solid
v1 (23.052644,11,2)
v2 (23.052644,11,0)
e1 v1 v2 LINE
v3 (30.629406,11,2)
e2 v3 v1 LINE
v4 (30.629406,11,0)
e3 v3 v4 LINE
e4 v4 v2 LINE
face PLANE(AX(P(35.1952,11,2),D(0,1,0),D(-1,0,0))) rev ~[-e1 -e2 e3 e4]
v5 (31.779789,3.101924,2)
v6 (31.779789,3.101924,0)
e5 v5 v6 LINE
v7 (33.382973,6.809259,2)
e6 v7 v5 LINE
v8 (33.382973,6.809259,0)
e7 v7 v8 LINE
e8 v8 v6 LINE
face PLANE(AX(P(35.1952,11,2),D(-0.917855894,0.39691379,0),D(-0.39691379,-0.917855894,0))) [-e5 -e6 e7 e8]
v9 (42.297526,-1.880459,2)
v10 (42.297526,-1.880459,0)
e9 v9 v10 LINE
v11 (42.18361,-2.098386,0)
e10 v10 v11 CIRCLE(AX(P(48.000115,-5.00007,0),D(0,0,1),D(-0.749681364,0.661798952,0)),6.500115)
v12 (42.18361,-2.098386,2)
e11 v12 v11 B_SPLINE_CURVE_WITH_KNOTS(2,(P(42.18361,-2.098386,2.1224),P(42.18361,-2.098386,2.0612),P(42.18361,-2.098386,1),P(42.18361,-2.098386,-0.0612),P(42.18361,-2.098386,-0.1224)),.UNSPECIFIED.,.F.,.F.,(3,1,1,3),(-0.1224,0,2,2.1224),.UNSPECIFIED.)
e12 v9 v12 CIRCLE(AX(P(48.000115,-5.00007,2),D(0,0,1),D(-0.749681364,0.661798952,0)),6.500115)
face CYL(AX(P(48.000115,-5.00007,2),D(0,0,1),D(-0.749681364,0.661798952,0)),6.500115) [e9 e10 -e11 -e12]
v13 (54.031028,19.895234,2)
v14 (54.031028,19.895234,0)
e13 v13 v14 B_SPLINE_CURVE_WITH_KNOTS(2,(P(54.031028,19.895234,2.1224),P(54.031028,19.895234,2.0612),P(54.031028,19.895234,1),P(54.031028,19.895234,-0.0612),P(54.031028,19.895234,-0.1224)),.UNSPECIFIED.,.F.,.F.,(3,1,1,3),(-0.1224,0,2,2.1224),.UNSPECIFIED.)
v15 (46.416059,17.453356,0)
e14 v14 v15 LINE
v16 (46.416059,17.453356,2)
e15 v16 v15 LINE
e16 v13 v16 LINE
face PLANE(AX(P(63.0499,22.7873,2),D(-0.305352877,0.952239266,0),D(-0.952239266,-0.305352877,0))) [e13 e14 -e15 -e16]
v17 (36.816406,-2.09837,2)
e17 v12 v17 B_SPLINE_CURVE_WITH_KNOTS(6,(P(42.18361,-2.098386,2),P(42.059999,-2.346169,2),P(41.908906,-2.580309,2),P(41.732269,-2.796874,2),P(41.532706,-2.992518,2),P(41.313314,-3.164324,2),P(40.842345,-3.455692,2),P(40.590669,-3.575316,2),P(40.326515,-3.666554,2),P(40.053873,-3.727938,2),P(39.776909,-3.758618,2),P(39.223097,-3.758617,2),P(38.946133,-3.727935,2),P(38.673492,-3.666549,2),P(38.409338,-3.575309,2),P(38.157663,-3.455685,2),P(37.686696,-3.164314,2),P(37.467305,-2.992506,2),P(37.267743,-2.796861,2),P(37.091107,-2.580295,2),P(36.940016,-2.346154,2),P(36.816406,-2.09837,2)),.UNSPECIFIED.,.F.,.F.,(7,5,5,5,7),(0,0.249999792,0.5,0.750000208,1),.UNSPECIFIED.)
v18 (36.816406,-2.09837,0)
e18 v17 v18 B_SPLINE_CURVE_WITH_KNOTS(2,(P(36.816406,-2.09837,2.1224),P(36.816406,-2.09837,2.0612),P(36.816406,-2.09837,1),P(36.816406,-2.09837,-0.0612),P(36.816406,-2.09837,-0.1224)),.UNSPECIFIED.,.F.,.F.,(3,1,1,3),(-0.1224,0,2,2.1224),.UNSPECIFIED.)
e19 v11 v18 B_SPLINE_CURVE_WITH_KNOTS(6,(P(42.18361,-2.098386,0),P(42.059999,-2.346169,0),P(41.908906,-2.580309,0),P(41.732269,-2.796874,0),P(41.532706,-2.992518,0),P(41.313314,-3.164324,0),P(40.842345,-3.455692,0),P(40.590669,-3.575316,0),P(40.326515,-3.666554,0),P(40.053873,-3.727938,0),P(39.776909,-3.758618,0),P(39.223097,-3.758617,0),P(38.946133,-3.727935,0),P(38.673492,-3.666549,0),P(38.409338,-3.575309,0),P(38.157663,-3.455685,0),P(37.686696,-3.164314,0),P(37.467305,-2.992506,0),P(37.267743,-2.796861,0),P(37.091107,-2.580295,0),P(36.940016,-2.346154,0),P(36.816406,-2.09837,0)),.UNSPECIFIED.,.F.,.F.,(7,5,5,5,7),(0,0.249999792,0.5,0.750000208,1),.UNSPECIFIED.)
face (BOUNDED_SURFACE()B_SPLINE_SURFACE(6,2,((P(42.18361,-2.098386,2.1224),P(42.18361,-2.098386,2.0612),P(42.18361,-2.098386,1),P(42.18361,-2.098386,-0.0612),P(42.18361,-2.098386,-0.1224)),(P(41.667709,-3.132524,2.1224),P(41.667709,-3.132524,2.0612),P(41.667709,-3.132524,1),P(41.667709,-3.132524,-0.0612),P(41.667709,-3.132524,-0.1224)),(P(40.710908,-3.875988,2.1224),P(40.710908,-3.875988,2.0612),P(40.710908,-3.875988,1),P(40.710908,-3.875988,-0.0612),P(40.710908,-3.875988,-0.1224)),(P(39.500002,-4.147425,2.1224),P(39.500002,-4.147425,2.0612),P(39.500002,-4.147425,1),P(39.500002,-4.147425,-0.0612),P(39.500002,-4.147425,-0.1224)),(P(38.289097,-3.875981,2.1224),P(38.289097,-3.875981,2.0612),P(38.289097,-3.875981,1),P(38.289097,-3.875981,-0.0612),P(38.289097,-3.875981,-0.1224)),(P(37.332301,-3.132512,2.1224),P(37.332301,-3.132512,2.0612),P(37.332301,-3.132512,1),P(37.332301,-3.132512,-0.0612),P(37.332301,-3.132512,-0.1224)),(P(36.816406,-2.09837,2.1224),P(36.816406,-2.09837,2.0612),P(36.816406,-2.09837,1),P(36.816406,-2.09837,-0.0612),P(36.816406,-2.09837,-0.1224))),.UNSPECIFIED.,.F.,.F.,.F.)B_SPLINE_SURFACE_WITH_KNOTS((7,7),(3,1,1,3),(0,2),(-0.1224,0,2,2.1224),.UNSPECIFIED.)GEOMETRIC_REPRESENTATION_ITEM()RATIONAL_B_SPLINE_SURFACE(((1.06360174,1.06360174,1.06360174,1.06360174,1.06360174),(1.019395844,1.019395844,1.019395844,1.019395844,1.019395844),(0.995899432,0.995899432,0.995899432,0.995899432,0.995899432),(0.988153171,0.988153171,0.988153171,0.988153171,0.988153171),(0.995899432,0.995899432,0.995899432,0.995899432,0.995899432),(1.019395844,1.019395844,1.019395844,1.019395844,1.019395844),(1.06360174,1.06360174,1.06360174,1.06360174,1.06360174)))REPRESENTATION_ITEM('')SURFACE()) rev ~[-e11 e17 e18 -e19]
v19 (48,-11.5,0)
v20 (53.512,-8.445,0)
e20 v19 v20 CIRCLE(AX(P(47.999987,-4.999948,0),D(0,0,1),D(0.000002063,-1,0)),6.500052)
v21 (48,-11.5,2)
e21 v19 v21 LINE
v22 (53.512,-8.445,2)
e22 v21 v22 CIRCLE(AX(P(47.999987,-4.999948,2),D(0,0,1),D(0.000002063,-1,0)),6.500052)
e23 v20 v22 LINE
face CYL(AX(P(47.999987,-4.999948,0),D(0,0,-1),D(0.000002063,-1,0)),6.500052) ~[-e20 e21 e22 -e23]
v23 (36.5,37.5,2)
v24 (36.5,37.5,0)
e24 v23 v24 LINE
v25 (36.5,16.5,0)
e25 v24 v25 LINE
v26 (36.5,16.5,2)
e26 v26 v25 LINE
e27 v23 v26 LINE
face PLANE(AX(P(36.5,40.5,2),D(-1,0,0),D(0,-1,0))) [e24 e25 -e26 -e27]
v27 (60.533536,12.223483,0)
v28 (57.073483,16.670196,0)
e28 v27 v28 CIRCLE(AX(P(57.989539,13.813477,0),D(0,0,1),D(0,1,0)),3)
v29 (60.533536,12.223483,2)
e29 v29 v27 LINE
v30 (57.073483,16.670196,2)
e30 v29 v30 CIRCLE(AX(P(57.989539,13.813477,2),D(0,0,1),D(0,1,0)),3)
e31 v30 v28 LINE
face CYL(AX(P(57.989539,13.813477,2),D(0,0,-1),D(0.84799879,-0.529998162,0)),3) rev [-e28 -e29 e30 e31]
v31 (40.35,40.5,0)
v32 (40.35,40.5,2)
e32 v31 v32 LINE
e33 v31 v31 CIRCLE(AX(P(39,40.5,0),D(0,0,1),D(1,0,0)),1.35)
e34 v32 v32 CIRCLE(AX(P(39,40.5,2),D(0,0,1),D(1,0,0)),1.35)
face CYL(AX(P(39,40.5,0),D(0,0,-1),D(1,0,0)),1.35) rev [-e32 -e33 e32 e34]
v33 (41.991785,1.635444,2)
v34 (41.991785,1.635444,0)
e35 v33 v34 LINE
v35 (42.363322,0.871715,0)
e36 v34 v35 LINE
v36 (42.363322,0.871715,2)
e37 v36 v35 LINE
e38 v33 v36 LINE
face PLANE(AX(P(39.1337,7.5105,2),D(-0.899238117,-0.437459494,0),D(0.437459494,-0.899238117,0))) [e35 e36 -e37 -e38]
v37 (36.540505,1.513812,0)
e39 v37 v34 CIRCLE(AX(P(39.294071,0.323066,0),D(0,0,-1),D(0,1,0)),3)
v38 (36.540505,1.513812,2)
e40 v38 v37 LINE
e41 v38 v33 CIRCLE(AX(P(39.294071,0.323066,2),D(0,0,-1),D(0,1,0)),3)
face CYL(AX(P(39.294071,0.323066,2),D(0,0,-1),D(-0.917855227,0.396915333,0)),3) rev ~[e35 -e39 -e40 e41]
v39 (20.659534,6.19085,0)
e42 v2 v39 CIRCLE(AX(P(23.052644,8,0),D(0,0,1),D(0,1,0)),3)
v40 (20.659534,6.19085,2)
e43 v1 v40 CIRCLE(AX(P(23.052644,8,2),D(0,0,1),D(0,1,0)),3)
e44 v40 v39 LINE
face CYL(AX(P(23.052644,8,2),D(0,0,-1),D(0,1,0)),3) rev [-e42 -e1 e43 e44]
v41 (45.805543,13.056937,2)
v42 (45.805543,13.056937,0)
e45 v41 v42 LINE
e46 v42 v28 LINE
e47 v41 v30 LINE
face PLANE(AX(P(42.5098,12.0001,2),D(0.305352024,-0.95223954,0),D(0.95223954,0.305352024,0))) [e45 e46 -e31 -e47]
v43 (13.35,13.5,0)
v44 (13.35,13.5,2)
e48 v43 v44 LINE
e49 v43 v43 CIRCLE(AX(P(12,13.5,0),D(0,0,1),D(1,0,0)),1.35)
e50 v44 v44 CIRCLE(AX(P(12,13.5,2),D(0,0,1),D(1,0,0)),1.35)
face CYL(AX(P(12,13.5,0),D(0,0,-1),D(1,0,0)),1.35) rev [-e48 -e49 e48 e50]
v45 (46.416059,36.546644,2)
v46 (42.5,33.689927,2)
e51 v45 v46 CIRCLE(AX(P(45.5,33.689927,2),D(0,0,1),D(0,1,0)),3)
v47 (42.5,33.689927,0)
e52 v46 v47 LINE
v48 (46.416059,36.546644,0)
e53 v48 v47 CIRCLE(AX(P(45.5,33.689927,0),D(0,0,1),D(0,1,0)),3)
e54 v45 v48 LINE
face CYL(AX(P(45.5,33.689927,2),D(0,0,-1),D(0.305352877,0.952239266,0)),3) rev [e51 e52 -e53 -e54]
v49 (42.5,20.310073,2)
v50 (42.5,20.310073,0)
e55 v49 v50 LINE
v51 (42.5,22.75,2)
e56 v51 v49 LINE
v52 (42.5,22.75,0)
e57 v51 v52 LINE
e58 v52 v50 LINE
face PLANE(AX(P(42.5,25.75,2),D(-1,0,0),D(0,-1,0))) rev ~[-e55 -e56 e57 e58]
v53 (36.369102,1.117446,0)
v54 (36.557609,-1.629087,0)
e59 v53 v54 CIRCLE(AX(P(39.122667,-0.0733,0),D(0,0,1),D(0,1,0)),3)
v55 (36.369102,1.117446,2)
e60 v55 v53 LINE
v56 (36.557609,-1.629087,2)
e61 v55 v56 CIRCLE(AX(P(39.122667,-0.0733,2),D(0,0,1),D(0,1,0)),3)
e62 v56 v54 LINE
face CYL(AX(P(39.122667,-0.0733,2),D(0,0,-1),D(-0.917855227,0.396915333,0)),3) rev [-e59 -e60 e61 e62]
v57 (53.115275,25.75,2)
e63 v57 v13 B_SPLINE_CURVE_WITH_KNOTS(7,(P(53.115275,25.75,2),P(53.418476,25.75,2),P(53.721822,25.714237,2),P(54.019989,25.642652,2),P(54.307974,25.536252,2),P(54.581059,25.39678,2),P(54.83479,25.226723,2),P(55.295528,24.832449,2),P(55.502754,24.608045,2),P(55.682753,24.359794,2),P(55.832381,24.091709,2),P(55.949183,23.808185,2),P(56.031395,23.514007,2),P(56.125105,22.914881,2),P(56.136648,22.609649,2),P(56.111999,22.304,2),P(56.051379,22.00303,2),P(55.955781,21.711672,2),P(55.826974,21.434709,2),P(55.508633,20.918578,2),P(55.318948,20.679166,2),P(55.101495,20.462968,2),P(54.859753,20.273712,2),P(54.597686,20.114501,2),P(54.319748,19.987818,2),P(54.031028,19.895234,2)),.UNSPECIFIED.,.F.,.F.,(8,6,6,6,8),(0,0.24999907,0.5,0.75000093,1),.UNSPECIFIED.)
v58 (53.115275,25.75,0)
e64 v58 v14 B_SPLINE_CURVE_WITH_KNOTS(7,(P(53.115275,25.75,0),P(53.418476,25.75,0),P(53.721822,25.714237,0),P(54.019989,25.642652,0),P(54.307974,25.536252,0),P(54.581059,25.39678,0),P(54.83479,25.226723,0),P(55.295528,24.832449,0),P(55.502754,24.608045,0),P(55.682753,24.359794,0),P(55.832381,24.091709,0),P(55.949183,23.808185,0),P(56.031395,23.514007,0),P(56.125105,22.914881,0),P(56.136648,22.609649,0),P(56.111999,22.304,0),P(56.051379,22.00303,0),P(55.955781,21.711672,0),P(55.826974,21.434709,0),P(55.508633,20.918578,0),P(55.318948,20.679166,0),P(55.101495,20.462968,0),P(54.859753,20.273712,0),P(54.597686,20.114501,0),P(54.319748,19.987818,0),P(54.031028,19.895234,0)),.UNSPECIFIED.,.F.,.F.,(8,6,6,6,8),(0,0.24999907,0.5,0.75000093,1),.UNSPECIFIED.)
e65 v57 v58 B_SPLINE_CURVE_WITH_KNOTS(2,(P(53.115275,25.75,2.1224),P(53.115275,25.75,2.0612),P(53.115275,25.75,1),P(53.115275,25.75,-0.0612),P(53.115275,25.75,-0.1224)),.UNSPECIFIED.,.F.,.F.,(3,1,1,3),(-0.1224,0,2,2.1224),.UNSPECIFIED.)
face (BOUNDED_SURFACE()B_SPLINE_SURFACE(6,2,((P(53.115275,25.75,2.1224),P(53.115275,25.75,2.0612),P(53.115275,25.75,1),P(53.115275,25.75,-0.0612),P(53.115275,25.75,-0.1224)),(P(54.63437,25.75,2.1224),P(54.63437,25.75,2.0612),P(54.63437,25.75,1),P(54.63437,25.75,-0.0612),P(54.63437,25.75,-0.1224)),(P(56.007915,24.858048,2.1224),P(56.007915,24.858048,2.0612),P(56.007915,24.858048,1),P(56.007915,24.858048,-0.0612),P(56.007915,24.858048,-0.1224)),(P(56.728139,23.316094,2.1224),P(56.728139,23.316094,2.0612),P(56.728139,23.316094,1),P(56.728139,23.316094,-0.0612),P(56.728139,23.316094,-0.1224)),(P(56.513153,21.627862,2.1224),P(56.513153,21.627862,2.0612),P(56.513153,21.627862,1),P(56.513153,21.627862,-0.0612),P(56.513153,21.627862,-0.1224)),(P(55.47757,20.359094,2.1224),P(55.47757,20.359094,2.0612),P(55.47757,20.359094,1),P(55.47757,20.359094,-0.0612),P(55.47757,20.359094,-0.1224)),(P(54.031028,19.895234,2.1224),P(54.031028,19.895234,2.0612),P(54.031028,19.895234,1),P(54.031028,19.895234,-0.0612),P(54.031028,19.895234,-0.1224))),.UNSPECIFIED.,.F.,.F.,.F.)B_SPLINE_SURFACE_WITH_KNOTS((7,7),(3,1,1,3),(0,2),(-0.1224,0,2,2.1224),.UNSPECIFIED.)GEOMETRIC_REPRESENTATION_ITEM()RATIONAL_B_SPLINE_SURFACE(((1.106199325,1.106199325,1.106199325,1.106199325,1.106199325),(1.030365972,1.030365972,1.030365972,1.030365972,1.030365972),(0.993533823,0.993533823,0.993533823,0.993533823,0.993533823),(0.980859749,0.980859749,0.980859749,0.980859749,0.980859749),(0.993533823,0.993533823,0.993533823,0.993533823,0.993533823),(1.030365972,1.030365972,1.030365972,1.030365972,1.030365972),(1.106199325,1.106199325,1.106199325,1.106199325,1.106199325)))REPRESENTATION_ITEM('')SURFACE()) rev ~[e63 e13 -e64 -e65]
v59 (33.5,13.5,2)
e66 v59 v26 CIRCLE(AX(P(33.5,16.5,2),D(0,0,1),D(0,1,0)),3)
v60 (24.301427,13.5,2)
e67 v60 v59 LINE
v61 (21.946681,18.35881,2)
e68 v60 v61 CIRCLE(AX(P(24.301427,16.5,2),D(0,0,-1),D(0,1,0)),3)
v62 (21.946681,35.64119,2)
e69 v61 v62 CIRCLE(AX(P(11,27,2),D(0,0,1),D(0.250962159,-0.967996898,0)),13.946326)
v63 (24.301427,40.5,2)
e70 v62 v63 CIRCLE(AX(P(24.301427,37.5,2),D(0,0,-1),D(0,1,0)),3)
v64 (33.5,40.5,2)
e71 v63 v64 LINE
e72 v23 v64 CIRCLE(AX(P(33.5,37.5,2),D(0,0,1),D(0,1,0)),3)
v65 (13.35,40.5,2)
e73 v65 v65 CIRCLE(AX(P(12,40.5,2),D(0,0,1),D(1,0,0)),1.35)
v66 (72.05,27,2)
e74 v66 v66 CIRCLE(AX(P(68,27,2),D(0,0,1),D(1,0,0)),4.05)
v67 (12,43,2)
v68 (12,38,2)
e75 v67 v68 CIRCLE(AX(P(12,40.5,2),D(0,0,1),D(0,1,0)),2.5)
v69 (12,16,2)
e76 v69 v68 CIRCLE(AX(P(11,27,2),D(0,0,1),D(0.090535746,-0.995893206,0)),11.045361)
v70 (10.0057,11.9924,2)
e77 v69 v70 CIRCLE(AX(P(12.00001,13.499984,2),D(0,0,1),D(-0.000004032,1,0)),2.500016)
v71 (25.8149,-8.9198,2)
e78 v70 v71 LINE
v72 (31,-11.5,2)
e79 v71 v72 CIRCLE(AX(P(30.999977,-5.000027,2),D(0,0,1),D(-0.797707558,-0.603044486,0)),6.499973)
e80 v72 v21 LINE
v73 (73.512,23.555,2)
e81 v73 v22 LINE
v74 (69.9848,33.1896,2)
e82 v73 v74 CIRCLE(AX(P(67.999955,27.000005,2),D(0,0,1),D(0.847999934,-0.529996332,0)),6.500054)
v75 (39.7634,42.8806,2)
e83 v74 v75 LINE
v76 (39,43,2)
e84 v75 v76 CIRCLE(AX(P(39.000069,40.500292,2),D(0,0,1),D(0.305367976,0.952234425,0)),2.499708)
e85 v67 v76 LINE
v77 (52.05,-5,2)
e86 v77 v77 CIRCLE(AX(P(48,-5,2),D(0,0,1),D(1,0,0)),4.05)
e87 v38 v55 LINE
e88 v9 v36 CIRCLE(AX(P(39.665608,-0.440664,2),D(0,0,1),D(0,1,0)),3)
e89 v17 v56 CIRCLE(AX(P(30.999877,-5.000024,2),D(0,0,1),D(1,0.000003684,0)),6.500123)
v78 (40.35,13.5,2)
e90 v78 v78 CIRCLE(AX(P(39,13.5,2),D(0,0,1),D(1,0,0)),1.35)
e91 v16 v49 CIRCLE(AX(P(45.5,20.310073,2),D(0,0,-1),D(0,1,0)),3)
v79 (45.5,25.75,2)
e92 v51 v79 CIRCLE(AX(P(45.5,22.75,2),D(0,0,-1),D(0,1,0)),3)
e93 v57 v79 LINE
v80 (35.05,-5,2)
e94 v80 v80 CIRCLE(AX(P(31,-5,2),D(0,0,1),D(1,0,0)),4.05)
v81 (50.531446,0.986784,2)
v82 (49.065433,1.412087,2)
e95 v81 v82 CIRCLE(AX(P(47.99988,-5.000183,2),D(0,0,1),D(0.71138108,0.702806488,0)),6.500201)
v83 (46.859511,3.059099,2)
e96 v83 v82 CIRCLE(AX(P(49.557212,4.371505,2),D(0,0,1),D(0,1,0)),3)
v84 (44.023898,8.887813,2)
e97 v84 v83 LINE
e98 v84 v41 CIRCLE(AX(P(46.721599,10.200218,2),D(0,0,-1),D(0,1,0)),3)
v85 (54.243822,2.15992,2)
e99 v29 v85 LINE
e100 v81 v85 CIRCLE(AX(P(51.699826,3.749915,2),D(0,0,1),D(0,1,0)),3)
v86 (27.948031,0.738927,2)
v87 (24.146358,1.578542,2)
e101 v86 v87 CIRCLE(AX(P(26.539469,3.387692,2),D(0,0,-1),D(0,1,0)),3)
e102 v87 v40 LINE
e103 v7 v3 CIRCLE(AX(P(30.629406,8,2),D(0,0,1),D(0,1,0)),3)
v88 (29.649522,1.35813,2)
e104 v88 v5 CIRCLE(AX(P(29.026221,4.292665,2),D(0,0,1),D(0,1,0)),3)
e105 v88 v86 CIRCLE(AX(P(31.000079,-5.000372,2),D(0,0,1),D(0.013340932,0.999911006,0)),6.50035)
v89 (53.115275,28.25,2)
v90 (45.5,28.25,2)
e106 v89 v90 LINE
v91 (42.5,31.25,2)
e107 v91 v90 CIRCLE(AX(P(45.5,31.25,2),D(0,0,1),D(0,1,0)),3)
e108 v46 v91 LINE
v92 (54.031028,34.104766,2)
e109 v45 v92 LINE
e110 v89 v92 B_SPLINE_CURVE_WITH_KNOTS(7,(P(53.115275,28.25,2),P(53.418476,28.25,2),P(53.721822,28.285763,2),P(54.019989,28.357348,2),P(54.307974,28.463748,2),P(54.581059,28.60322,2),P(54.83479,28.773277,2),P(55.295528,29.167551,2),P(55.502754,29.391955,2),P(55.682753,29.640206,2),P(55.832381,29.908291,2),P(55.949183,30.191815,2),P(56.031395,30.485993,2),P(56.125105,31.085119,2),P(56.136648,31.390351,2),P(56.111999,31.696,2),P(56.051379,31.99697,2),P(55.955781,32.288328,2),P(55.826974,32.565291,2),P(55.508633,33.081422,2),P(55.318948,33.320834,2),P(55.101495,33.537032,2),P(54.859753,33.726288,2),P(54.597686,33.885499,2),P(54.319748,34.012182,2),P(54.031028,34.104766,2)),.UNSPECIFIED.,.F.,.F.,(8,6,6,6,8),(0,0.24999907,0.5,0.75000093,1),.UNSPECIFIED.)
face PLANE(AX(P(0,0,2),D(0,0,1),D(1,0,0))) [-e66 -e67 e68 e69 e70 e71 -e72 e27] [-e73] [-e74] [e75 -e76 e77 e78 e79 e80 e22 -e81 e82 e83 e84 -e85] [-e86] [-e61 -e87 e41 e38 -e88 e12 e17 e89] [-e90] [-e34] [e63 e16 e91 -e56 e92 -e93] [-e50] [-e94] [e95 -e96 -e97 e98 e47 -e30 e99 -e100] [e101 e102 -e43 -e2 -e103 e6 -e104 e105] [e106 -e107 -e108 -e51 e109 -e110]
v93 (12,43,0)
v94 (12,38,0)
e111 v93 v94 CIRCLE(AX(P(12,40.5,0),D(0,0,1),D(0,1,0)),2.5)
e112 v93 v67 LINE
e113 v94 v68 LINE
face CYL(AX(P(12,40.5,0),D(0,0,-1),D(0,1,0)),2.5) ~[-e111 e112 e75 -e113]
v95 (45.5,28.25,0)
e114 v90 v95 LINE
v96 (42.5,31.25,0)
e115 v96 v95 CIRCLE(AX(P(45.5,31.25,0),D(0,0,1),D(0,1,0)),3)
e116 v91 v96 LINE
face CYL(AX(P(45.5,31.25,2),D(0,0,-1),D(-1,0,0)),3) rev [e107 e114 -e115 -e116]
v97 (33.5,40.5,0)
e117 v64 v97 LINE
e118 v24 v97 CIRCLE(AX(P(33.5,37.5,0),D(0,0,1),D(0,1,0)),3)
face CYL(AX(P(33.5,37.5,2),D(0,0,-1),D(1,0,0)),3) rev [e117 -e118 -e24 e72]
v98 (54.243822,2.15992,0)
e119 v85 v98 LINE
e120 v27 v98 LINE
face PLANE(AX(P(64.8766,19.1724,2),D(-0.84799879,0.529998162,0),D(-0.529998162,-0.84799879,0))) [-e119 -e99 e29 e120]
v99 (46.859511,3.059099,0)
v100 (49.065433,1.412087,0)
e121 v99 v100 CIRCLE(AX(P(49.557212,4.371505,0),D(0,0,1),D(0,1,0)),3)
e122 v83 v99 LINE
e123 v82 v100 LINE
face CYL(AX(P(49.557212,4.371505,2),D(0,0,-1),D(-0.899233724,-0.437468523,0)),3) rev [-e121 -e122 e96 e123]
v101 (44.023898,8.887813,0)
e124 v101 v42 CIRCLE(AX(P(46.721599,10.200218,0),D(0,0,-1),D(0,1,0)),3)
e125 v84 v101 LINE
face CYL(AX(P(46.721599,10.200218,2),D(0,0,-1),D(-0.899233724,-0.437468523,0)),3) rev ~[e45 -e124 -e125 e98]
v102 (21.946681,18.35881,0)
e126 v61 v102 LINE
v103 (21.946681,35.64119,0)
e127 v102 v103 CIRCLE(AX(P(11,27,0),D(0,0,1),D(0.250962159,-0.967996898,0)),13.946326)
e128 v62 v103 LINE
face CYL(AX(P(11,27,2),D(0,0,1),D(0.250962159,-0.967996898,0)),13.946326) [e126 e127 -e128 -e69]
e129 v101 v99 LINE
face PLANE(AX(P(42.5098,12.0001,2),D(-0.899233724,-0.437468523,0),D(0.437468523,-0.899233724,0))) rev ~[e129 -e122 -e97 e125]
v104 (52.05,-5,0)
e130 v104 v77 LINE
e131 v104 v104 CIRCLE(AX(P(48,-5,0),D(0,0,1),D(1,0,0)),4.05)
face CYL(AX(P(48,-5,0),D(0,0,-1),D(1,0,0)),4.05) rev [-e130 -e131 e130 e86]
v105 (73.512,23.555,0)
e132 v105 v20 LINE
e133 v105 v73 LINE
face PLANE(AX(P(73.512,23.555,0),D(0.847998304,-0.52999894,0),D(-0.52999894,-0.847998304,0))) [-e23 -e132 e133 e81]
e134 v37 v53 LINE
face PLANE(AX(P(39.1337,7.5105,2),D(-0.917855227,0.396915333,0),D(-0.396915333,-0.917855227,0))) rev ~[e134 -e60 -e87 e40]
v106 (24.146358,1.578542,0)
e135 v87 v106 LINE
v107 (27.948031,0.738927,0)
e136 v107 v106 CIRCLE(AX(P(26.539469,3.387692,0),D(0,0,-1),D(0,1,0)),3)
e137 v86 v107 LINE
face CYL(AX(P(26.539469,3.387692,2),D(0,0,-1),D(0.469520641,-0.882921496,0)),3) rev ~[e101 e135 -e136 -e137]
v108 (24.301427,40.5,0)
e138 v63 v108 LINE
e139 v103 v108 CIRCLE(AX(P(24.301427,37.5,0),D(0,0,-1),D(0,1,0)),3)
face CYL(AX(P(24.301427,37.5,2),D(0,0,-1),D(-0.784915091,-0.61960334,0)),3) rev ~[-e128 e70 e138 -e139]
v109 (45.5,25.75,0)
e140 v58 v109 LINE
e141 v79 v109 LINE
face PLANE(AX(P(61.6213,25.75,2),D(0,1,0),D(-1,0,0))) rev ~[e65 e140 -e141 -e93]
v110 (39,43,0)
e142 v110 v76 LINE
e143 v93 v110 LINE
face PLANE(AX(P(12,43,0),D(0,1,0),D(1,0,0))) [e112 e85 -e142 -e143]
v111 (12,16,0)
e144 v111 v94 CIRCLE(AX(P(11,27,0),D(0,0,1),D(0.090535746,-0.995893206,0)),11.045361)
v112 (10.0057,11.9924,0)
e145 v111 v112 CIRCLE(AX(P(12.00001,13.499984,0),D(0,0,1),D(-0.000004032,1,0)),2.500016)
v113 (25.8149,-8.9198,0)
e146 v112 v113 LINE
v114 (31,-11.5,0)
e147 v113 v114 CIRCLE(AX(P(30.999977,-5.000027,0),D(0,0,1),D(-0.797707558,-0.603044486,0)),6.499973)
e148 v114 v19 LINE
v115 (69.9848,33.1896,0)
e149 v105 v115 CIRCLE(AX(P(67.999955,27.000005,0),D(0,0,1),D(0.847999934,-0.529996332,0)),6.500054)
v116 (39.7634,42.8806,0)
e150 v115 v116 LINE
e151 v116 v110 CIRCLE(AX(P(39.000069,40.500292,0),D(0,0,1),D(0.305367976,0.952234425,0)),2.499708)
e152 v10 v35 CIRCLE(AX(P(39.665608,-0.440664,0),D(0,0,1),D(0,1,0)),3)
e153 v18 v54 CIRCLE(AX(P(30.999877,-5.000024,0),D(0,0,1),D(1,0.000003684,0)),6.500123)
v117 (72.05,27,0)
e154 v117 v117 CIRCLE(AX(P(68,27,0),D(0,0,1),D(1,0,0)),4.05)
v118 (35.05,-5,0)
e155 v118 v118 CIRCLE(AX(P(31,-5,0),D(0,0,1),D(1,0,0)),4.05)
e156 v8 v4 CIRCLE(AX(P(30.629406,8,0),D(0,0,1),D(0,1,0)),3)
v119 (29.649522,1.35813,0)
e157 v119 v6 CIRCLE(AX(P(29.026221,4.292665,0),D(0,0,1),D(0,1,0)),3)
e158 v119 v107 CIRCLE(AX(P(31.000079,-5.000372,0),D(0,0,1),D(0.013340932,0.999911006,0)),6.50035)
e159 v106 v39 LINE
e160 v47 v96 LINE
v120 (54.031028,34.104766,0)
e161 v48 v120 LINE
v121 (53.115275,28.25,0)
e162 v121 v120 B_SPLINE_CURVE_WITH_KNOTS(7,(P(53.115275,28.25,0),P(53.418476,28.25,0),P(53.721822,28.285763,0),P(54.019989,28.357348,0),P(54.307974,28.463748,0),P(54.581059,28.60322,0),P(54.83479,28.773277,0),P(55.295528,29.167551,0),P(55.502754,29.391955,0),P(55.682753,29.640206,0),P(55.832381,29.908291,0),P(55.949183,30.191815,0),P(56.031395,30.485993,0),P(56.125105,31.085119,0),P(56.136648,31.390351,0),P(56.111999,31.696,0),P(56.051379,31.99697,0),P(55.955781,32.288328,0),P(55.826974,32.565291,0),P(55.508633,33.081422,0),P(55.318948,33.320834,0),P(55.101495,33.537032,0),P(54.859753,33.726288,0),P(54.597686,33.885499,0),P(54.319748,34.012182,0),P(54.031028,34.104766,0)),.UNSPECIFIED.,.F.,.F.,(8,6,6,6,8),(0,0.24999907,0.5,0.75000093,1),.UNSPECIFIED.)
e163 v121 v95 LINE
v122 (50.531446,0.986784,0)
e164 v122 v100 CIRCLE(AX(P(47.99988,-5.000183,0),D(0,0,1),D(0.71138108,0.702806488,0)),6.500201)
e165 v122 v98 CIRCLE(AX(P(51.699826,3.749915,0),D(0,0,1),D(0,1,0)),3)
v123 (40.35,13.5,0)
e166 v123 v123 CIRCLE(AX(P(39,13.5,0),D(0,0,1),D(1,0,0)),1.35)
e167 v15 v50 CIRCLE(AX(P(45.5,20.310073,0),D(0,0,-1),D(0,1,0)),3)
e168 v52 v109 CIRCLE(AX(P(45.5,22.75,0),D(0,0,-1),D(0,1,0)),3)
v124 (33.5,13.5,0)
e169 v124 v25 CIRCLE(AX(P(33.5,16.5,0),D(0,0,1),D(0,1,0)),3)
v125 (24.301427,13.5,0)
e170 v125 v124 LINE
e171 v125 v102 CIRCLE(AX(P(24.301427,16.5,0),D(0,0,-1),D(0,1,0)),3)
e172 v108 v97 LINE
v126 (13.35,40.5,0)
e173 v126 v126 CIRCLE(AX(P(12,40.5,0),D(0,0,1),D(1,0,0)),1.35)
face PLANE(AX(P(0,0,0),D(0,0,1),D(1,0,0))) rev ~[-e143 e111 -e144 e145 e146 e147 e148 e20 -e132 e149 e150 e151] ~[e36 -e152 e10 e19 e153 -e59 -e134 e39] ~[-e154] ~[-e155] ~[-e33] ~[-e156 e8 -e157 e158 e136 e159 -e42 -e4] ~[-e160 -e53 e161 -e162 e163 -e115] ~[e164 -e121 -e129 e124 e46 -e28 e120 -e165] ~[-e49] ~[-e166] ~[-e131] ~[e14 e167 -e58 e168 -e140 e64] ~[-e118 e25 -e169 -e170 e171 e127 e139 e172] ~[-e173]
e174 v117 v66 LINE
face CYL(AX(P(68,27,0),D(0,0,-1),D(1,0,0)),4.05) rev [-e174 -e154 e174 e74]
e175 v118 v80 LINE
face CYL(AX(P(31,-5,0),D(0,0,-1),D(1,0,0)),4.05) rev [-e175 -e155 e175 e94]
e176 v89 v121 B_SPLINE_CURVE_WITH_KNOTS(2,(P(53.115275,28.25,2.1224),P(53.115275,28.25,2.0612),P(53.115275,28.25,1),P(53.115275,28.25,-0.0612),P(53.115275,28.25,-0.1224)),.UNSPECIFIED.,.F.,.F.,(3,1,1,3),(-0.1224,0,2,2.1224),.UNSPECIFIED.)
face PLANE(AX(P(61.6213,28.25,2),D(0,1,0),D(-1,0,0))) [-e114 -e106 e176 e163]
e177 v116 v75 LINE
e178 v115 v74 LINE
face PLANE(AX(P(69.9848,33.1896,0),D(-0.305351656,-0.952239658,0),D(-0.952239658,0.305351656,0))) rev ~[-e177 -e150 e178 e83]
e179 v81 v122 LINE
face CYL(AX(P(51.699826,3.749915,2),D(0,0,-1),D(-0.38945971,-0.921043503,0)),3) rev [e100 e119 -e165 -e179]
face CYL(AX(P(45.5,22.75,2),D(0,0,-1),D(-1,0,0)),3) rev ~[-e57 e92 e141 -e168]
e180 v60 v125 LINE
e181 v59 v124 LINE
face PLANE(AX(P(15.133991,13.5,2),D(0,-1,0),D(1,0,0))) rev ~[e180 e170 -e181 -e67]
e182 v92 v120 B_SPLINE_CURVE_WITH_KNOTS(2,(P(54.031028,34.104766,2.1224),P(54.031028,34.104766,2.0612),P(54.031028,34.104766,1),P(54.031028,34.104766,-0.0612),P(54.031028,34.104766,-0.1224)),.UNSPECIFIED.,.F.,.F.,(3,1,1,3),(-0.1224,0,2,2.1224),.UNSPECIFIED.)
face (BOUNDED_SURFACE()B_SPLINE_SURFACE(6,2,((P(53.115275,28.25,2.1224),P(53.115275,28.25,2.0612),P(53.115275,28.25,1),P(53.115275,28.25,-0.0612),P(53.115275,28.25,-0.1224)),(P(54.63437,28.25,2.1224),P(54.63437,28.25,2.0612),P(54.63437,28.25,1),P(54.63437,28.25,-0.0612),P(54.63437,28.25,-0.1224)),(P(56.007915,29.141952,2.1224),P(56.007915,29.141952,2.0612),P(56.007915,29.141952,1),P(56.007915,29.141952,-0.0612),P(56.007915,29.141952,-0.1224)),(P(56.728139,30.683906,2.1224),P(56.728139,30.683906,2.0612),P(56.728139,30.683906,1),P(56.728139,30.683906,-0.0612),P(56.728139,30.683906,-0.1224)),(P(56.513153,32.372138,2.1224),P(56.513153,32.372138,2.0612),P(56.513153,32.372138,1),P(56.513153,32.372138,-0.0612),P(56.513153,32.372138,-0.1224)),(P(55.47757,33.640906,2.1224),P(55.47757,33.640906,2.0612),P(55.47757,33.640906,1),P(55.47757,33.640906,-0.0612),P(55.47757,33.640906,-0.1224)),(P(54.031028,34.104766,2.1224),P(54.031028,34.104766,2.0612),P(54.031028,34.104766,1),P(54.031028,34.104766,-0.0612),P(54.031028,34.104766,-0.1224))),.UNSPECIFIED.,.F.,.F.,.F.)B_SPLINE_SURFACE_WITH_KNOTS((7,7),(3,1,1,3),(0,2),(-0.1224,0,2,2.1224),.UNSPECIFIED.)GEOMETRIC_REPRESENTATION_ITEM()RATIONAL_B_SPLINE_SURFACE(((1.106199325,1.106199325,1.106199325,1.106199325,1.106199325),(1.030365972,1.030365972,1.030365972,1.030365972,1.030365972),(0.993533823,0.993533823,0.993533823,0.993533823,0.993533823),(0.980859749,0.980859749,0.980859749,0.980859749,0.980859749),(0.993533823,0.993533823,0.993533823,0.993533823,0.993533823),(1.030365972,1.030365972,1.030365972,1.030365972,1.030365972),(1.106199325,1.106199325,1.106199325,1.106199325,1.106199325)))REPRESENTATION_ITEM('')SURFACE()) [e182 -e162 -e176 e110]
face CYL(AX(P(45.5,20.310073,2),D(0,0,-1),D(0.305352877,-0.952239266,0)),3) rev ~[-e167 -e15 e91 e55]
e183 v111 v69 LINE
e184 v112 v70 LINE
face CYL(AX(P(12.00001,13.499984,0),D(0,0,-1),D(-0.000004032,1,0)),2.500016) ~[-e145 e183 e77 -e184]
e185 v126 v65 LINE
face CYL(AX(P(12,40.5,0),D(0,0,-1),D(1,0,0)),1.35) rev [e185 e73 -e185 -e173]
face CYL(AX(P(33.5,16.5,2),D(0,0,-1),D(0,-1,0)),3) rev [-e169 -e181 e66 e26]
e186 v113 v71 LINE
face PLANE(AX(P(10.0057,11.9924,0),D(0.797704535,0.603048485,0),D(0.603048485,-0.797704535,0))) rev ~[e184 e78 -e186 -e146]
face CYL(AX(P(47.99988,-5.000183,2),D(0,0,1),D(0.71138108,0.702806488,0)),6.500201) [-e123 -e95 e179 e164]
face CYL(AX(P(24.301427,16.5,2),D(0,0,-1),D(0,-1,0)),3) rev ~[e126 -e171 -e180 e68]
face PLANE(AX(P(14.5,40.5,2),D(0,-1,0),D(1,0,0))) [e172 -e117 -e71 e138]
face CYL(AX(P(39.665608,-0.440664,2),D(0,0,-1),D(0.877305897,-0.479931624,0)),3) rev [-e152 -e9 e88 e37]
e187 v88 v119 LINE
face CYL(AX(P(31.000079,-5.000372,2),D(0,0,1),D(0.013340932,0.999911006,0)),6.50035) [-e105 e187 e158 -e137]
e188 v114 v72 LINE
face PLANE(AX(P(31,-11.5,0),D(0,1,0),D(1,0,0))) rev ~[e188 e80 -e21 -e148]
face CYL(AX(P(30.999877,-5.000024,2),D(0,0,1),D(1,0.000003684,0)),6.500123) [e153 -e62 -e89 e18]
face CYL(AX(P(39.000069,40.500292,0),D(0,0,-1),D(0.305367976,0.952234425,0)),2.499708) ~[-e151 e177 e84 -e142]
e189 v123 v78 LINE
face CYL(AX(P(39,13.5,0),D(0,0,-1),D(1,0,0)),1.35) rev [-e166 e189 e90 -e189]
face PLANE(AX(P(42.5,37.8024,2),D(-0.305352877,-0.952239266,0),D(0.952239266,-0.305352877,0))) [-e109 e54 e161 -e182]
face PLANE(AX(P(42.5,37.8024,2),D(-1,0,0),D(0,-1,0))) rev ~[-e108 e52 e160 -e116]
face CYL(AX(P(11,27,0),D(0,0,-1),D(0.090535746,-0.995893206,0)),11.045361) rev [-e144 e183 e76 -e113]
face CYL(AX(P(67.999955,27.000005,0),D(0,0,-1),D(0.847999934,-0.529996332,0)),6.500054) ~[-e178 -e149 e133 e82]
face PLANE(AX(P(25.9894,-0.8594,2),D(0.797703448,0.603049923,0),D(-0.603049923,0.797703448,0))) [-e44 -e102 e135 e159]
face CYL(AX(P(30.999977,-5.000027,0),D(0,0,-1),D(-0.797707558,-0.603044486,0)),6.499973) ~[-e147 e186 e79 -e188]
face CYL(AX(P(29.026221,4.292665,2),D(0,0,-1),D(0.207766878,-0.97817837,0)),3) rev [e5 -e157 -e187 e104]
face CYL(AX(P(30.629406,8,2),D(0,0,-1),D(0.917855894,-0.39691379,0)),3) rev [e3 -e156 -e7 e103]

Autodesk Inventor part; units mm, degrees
ref_plane "YZ Plane" through (0, 0, 0) normal (1, 0, 0) x (0, 1, 0)
ref_plane "XZ Plane" through (0, 0, 0) normal (0, 1, 0) x (-1, 0, 0)
ref_plane "XY Plane" through (0, 0, 0) normal (0, 0, 1) x (1, 0, 0)
sketch "スケッチ1" plane through (0, 0, 0) normal (0, 0, 1) x (1, 0, 0)
  circle A0 centre (68, 27) radius 4.05
  circle A1 centre (31, -5) radius 4.05
  circle A2 centre (48, -5) radius 4.05
  circle A3 centre (68, 27) radius 6.5 construction
  circle A4 centre (31, -5) radius 6.5 construction
  circle A5 centre (48, -5) radius 6.5 construction
  line L0 (31, -11.5) -> (48, -11.5)
  line L1 (73.512, 23.555) -> (53.512, -8.445)
  arc A6 (48, -11.5) -> (53.512, -8.445) centre (48, -5) ccw
  circle A7 centre (39, 13.5) radius 1.35
  line L2 (39, 13.5) -> (39, 40.5) construction
  line L3 (39, 40.5) -> (12, 40.5) construction
  line L4 (12, 40.5) -> (12, 13.5) construction
  line L5 (12, 13.5) -> (39, 13.5) construction
  circle A8 centre (12, 13.5) radius 1.35
  circle A9 centre (12, 40.5) radius 1.35
  circle A10 centre (39, 40.5) radius 1.35
  circle A11 centre (11, 27) radius 8.5 construction
  circle A12 centre (11, 27) radius 10.5 construction
  arc A13 (0, 15.381) -> (0, 38.619) centre (11, 27) ccw construction
  line L6 (0, 15.381) -> (0, 38.619) construction
  line L7 (11, 11) -> (11, 43) construction
  line L8 (11, 43) -> (51.5, 43) construction
  line L9 (51.5, 43) -> (51.5, 11) construction
  line L10 (51.5, 11) -> (11, 11) construction
  circle A14 centre (39, 13.5) radius 2.5 construction
  circle A15 centre (39, 40.5) radius 2.5 construction
  circle A16 centre (12, 40.5) radius 2.5 construction
  circle A17 centre (12, 13.5) radius 2.5 construction
  line L11 (10.0057, 11.9924) -> (25.8149, -8.9198)
  line L12 (69.9848, 33.1896) -> (39.7634, 42.8806)
  arc A18 (25.8149, -8.9198) -> (31, -11.5) centre (31, -5) ccw
  arc A19 (12, 16) -> (10.0057, 11.9924) centre (12, 13.5) ccw
  arc A20 (12, 16) -> (12, 38) centre (11, 27) ccw
  line L13 (12, 43) -> (39, 43)
  arc A21 (39.7634, 42.8806) -> (39, 43) centre (39, 40.5) ccw
  arc A22 (73.512, 23.555) -> (69.9848, 33.1896) centre (68, 27) ccw
  arc A23 (12, 43) -> (12, 38) centre (12, 40.5) ccw
  point P0 (0, 0)
  point P1 (62.8293, 30.9388)
  point P2 (24.5, -5)
  point P3 (1.5716, 22.3787)
  point P4 (39, 11)
  dimension "d60" = 21
  dimension "d17" = 8.1
  dimension "d21" = 5
  dimension "d24" = 17
  dimension "d26" = 20
  dimension "d27" = 13
  dimension "d55" = 2.7
  dimension "d56" = 27
  dimension "d57" = 27
  dimension "d58" = 17
  dimension "d59" = 1
  dimension "d61" = 32
  dimension "d62" = 13.5
  dimension "d63" = 12
  dimension "d64" = 51.5
  dimension "d65" = 5
  dimension "d66" = 57
  dimension "d67" = 32
  dimension "d68" = 32
  dimension "d69" = 20
extrude "押し出し1" add sketch "スケッチ1" along normal blind 2
sketch "スケッチ5" plane through (0, 0, 2) normal (0, 0, 1) x (1, 0, 0)
  circle A0 centre (12, 40.5) radius 1.35 projected
  circle A1 centre (39, 40.5) radius 1.35 projected
  circle A2 centre (39, 13.5) radius 1.35 projected
  circle A3 centre (12, 13.5) radius 1.35 projected
  circle A4 centre (31, -5) radius 4.05 projected
  circle A5 centre (48, -5) radius 4.05 projected
  circle A6 centre (68, 27) radius 4.05 projected
  line L0 (39, 43) -> (12, 43) projected
  circle A7 centre (12, 40.5) radius 2.5 construction
  circle A8 centre (39, 40.5) radius 2.5 construction
  circle A9 centre (39, 13.5) radius 2.5 construction
  circle A10 centre (12, 13.5) radius 2.5 construction
  circle A11 centre (31, -5) radius 6.5 construction
  circle A12 centre (48, -5) radius 6.5 construction
  circle A13 centre (68, 27) radius 6.5 construction
  arc A14 (73.512, 23.555) -> (69.9848, 33.1896) centre (68, 27) ccw projected
  line L1 (14.5, 40.5) -> (36.5, 40.5)
  line L2 (36.5, 40.5) -> (36.5, 13.5)
  line L3 (14.5, 13.5) -> (36.5, 13.5)
  arc A15 (12, 16) -> (12, 38) centre (11, 27) ccw projected
  arc A16 (14.5, 13.5) -> (14.5, 40.5) centre (11, 27) ccw
  line L4 (40.4464, 38.4609) -> (42.5, 37.8024)
  line L5 (69.9848, 33.1896) -> (39.7634, 42.8806) projected
  line L6 (68, 27) -> (11, 27) construction
  line L7 (63.0499, 22.7873) -> (42.5, 16.1976)
  line L8 (42.5, 37.8024) -> (42.5, 28.25)
  line L9 (39.7634, 11.1194) -> (42.5098, 12.0001)
  arc A17 (63.0499, 31.2127) -> (61.6213, 28.25) centre (68, 27) ccw
  line L10 (39, 13.5) -> (48, -5) construction
  line L11 (39, 13.5) -> (31, -5) construction
  line L12 (41.2481, 14.5937) -> (42.5098, 12.0001)
  line L13 (36.7519, 12.4063) -> (39.1337, 7.5105)
  line L14 (41.2946, 12.5077) -> (39.1337, 7.5105)
  line L15 (65.92, 20.8418) -> (64.8766, 19.1724)
  line L16 (53.512, -8.445) -> (73.512, 23.555) projected
  arc A18 (52.624, -0.4318) -> (47.6233, 1.4891) centre (48, -5) ccw
  line L17 (10.0057, 11.9924) -> (25.8149, -8.9198) projected
  line L18 (37.5, -5) -> (41.5, -5)
  arc A19 (43.1271, -0.6983) -> (41.5, -5) centre (48, -5) ccw
  arc A20 (37.5, -5) -> (35.6761, -0.4851) centre (31, -5) ccw
  arc A21 (31.0868, 1.4994) -> (25.9894, -0.8594) centre (31, -5) ccw
  line L19 (31, -5) -> (48, -5) construction
  line L20 (39.1337, 7.5105) -> (43.1271, -0.6983)
  line L21 (39.1337, 7.5105) -> (35.6761, -0.4851)
  line L22 (42.5098, 12.0001) -> (64.8766, 19.1724)
  line L23 (42.5098, 12.0001) -> (47.6233, 1.4891)
  line L24 (42.5, 16.1976) -> (40.4464, 15.5391)
  line L25 (42.5, 37.8024) -> (63.0499, 31.2127)
  line L26 (64.8766, 19.1724) -> (69.9848, 20.8104)
  line L27 (64.8766, 19.1724) -> (52.624, -0.4318)
  line L28 (36.0599, 11) -> (35.1952, 11)
  line L29 (36.7054, 14.4923) -> (35.1952, 11)
  line L30 (25.9894, -0.8594) -> (17.0239, 11)
  line L31 (17.0239, 11) -> (13.9943, 15.0076)
  line L32 (17.0239, 11) -> (14.4985, 11)
  line L33 (35.1952, 11) -> (17.0239, 11)
  line L34 (35.1952, 11) -> (31.0868, 1.4994)
  line L35 (61.6213, 28.25) -> (42.5, 28.25)
  line L36 (61.6213, 25.75) -> (42.5, 25.75)
  arc A22 (61.6213, 28.25) -> (61.6213, 25.75) centre (68, 27) ccw construction
  arc A23 (61.6213, 25.75) -> (63.0499, 22.7873) centre (68, 27) ccw
  line L37 (42.5, 28.25) -> (42.5, 25.75) construction
  line L38 (42.5, 25.75) -> (42.5, 16.1976)
  point P0 (0, 0)
  dimension "d71" = 4
  dimension "d73" = 5
  dimension "d75" = 5
  dimension "d81" = 6
  dimension "d82" = 2.5
  dimension "d83" = 5
  dimension "d84" = 5
  dimension "d85" = 2.5
extrude "押し出し3" cut sketch "スケッチ5" against normal through all contours L1 L2 L29 L3 L31 A16 | L31 L3 A16 | L2 L3 L29 | L33 L34 A21 L30 | L7 L38 L36 A23 | L25 A17 L35 L8 | L22 L27 A18 L23 | L20 A19 L18 A20 L21
fillet "フィレット2" radius 3 25 edges at (36.5, 13.5, 1) (39.1337, 7.5105, 1) (42.5098, 12.0001, 1) (35.6761, -0.4851, 1) (37.5, -5, 1) (43.1271, -0.6983, 1) (41.5, -5, 1) (47.6233, 1.4891, 1) (52.624, -0.4318, 1) (64.8766, 19.1724, 1) (63.0499, 22.7873, 1) (63.0499, 31.2127, 1) (42.5, 37.8024, 1) (36.5, 40.5, 1) (31.0868, 1.4994, 1) (25.9894, -0.8594, 1) (42.5, 16.1976, 1) (14.5, 13.5, 1) (14.5, 40.5, 1) (35.1952, 11, 1) (17.0239, 11, 1) (42.5, 25.75, 1) (42.5, 28.25, 1) (61.6213, 28.25, 1) (61.6213, 25.75, 1)
equation "\"d62\" = 0.5 * d56"
equation "\"d45\" = d44"
equation "\"d44\" = 6"
properties part number "膝_メインフレーム" material "アルミニウム 2014-T4"
